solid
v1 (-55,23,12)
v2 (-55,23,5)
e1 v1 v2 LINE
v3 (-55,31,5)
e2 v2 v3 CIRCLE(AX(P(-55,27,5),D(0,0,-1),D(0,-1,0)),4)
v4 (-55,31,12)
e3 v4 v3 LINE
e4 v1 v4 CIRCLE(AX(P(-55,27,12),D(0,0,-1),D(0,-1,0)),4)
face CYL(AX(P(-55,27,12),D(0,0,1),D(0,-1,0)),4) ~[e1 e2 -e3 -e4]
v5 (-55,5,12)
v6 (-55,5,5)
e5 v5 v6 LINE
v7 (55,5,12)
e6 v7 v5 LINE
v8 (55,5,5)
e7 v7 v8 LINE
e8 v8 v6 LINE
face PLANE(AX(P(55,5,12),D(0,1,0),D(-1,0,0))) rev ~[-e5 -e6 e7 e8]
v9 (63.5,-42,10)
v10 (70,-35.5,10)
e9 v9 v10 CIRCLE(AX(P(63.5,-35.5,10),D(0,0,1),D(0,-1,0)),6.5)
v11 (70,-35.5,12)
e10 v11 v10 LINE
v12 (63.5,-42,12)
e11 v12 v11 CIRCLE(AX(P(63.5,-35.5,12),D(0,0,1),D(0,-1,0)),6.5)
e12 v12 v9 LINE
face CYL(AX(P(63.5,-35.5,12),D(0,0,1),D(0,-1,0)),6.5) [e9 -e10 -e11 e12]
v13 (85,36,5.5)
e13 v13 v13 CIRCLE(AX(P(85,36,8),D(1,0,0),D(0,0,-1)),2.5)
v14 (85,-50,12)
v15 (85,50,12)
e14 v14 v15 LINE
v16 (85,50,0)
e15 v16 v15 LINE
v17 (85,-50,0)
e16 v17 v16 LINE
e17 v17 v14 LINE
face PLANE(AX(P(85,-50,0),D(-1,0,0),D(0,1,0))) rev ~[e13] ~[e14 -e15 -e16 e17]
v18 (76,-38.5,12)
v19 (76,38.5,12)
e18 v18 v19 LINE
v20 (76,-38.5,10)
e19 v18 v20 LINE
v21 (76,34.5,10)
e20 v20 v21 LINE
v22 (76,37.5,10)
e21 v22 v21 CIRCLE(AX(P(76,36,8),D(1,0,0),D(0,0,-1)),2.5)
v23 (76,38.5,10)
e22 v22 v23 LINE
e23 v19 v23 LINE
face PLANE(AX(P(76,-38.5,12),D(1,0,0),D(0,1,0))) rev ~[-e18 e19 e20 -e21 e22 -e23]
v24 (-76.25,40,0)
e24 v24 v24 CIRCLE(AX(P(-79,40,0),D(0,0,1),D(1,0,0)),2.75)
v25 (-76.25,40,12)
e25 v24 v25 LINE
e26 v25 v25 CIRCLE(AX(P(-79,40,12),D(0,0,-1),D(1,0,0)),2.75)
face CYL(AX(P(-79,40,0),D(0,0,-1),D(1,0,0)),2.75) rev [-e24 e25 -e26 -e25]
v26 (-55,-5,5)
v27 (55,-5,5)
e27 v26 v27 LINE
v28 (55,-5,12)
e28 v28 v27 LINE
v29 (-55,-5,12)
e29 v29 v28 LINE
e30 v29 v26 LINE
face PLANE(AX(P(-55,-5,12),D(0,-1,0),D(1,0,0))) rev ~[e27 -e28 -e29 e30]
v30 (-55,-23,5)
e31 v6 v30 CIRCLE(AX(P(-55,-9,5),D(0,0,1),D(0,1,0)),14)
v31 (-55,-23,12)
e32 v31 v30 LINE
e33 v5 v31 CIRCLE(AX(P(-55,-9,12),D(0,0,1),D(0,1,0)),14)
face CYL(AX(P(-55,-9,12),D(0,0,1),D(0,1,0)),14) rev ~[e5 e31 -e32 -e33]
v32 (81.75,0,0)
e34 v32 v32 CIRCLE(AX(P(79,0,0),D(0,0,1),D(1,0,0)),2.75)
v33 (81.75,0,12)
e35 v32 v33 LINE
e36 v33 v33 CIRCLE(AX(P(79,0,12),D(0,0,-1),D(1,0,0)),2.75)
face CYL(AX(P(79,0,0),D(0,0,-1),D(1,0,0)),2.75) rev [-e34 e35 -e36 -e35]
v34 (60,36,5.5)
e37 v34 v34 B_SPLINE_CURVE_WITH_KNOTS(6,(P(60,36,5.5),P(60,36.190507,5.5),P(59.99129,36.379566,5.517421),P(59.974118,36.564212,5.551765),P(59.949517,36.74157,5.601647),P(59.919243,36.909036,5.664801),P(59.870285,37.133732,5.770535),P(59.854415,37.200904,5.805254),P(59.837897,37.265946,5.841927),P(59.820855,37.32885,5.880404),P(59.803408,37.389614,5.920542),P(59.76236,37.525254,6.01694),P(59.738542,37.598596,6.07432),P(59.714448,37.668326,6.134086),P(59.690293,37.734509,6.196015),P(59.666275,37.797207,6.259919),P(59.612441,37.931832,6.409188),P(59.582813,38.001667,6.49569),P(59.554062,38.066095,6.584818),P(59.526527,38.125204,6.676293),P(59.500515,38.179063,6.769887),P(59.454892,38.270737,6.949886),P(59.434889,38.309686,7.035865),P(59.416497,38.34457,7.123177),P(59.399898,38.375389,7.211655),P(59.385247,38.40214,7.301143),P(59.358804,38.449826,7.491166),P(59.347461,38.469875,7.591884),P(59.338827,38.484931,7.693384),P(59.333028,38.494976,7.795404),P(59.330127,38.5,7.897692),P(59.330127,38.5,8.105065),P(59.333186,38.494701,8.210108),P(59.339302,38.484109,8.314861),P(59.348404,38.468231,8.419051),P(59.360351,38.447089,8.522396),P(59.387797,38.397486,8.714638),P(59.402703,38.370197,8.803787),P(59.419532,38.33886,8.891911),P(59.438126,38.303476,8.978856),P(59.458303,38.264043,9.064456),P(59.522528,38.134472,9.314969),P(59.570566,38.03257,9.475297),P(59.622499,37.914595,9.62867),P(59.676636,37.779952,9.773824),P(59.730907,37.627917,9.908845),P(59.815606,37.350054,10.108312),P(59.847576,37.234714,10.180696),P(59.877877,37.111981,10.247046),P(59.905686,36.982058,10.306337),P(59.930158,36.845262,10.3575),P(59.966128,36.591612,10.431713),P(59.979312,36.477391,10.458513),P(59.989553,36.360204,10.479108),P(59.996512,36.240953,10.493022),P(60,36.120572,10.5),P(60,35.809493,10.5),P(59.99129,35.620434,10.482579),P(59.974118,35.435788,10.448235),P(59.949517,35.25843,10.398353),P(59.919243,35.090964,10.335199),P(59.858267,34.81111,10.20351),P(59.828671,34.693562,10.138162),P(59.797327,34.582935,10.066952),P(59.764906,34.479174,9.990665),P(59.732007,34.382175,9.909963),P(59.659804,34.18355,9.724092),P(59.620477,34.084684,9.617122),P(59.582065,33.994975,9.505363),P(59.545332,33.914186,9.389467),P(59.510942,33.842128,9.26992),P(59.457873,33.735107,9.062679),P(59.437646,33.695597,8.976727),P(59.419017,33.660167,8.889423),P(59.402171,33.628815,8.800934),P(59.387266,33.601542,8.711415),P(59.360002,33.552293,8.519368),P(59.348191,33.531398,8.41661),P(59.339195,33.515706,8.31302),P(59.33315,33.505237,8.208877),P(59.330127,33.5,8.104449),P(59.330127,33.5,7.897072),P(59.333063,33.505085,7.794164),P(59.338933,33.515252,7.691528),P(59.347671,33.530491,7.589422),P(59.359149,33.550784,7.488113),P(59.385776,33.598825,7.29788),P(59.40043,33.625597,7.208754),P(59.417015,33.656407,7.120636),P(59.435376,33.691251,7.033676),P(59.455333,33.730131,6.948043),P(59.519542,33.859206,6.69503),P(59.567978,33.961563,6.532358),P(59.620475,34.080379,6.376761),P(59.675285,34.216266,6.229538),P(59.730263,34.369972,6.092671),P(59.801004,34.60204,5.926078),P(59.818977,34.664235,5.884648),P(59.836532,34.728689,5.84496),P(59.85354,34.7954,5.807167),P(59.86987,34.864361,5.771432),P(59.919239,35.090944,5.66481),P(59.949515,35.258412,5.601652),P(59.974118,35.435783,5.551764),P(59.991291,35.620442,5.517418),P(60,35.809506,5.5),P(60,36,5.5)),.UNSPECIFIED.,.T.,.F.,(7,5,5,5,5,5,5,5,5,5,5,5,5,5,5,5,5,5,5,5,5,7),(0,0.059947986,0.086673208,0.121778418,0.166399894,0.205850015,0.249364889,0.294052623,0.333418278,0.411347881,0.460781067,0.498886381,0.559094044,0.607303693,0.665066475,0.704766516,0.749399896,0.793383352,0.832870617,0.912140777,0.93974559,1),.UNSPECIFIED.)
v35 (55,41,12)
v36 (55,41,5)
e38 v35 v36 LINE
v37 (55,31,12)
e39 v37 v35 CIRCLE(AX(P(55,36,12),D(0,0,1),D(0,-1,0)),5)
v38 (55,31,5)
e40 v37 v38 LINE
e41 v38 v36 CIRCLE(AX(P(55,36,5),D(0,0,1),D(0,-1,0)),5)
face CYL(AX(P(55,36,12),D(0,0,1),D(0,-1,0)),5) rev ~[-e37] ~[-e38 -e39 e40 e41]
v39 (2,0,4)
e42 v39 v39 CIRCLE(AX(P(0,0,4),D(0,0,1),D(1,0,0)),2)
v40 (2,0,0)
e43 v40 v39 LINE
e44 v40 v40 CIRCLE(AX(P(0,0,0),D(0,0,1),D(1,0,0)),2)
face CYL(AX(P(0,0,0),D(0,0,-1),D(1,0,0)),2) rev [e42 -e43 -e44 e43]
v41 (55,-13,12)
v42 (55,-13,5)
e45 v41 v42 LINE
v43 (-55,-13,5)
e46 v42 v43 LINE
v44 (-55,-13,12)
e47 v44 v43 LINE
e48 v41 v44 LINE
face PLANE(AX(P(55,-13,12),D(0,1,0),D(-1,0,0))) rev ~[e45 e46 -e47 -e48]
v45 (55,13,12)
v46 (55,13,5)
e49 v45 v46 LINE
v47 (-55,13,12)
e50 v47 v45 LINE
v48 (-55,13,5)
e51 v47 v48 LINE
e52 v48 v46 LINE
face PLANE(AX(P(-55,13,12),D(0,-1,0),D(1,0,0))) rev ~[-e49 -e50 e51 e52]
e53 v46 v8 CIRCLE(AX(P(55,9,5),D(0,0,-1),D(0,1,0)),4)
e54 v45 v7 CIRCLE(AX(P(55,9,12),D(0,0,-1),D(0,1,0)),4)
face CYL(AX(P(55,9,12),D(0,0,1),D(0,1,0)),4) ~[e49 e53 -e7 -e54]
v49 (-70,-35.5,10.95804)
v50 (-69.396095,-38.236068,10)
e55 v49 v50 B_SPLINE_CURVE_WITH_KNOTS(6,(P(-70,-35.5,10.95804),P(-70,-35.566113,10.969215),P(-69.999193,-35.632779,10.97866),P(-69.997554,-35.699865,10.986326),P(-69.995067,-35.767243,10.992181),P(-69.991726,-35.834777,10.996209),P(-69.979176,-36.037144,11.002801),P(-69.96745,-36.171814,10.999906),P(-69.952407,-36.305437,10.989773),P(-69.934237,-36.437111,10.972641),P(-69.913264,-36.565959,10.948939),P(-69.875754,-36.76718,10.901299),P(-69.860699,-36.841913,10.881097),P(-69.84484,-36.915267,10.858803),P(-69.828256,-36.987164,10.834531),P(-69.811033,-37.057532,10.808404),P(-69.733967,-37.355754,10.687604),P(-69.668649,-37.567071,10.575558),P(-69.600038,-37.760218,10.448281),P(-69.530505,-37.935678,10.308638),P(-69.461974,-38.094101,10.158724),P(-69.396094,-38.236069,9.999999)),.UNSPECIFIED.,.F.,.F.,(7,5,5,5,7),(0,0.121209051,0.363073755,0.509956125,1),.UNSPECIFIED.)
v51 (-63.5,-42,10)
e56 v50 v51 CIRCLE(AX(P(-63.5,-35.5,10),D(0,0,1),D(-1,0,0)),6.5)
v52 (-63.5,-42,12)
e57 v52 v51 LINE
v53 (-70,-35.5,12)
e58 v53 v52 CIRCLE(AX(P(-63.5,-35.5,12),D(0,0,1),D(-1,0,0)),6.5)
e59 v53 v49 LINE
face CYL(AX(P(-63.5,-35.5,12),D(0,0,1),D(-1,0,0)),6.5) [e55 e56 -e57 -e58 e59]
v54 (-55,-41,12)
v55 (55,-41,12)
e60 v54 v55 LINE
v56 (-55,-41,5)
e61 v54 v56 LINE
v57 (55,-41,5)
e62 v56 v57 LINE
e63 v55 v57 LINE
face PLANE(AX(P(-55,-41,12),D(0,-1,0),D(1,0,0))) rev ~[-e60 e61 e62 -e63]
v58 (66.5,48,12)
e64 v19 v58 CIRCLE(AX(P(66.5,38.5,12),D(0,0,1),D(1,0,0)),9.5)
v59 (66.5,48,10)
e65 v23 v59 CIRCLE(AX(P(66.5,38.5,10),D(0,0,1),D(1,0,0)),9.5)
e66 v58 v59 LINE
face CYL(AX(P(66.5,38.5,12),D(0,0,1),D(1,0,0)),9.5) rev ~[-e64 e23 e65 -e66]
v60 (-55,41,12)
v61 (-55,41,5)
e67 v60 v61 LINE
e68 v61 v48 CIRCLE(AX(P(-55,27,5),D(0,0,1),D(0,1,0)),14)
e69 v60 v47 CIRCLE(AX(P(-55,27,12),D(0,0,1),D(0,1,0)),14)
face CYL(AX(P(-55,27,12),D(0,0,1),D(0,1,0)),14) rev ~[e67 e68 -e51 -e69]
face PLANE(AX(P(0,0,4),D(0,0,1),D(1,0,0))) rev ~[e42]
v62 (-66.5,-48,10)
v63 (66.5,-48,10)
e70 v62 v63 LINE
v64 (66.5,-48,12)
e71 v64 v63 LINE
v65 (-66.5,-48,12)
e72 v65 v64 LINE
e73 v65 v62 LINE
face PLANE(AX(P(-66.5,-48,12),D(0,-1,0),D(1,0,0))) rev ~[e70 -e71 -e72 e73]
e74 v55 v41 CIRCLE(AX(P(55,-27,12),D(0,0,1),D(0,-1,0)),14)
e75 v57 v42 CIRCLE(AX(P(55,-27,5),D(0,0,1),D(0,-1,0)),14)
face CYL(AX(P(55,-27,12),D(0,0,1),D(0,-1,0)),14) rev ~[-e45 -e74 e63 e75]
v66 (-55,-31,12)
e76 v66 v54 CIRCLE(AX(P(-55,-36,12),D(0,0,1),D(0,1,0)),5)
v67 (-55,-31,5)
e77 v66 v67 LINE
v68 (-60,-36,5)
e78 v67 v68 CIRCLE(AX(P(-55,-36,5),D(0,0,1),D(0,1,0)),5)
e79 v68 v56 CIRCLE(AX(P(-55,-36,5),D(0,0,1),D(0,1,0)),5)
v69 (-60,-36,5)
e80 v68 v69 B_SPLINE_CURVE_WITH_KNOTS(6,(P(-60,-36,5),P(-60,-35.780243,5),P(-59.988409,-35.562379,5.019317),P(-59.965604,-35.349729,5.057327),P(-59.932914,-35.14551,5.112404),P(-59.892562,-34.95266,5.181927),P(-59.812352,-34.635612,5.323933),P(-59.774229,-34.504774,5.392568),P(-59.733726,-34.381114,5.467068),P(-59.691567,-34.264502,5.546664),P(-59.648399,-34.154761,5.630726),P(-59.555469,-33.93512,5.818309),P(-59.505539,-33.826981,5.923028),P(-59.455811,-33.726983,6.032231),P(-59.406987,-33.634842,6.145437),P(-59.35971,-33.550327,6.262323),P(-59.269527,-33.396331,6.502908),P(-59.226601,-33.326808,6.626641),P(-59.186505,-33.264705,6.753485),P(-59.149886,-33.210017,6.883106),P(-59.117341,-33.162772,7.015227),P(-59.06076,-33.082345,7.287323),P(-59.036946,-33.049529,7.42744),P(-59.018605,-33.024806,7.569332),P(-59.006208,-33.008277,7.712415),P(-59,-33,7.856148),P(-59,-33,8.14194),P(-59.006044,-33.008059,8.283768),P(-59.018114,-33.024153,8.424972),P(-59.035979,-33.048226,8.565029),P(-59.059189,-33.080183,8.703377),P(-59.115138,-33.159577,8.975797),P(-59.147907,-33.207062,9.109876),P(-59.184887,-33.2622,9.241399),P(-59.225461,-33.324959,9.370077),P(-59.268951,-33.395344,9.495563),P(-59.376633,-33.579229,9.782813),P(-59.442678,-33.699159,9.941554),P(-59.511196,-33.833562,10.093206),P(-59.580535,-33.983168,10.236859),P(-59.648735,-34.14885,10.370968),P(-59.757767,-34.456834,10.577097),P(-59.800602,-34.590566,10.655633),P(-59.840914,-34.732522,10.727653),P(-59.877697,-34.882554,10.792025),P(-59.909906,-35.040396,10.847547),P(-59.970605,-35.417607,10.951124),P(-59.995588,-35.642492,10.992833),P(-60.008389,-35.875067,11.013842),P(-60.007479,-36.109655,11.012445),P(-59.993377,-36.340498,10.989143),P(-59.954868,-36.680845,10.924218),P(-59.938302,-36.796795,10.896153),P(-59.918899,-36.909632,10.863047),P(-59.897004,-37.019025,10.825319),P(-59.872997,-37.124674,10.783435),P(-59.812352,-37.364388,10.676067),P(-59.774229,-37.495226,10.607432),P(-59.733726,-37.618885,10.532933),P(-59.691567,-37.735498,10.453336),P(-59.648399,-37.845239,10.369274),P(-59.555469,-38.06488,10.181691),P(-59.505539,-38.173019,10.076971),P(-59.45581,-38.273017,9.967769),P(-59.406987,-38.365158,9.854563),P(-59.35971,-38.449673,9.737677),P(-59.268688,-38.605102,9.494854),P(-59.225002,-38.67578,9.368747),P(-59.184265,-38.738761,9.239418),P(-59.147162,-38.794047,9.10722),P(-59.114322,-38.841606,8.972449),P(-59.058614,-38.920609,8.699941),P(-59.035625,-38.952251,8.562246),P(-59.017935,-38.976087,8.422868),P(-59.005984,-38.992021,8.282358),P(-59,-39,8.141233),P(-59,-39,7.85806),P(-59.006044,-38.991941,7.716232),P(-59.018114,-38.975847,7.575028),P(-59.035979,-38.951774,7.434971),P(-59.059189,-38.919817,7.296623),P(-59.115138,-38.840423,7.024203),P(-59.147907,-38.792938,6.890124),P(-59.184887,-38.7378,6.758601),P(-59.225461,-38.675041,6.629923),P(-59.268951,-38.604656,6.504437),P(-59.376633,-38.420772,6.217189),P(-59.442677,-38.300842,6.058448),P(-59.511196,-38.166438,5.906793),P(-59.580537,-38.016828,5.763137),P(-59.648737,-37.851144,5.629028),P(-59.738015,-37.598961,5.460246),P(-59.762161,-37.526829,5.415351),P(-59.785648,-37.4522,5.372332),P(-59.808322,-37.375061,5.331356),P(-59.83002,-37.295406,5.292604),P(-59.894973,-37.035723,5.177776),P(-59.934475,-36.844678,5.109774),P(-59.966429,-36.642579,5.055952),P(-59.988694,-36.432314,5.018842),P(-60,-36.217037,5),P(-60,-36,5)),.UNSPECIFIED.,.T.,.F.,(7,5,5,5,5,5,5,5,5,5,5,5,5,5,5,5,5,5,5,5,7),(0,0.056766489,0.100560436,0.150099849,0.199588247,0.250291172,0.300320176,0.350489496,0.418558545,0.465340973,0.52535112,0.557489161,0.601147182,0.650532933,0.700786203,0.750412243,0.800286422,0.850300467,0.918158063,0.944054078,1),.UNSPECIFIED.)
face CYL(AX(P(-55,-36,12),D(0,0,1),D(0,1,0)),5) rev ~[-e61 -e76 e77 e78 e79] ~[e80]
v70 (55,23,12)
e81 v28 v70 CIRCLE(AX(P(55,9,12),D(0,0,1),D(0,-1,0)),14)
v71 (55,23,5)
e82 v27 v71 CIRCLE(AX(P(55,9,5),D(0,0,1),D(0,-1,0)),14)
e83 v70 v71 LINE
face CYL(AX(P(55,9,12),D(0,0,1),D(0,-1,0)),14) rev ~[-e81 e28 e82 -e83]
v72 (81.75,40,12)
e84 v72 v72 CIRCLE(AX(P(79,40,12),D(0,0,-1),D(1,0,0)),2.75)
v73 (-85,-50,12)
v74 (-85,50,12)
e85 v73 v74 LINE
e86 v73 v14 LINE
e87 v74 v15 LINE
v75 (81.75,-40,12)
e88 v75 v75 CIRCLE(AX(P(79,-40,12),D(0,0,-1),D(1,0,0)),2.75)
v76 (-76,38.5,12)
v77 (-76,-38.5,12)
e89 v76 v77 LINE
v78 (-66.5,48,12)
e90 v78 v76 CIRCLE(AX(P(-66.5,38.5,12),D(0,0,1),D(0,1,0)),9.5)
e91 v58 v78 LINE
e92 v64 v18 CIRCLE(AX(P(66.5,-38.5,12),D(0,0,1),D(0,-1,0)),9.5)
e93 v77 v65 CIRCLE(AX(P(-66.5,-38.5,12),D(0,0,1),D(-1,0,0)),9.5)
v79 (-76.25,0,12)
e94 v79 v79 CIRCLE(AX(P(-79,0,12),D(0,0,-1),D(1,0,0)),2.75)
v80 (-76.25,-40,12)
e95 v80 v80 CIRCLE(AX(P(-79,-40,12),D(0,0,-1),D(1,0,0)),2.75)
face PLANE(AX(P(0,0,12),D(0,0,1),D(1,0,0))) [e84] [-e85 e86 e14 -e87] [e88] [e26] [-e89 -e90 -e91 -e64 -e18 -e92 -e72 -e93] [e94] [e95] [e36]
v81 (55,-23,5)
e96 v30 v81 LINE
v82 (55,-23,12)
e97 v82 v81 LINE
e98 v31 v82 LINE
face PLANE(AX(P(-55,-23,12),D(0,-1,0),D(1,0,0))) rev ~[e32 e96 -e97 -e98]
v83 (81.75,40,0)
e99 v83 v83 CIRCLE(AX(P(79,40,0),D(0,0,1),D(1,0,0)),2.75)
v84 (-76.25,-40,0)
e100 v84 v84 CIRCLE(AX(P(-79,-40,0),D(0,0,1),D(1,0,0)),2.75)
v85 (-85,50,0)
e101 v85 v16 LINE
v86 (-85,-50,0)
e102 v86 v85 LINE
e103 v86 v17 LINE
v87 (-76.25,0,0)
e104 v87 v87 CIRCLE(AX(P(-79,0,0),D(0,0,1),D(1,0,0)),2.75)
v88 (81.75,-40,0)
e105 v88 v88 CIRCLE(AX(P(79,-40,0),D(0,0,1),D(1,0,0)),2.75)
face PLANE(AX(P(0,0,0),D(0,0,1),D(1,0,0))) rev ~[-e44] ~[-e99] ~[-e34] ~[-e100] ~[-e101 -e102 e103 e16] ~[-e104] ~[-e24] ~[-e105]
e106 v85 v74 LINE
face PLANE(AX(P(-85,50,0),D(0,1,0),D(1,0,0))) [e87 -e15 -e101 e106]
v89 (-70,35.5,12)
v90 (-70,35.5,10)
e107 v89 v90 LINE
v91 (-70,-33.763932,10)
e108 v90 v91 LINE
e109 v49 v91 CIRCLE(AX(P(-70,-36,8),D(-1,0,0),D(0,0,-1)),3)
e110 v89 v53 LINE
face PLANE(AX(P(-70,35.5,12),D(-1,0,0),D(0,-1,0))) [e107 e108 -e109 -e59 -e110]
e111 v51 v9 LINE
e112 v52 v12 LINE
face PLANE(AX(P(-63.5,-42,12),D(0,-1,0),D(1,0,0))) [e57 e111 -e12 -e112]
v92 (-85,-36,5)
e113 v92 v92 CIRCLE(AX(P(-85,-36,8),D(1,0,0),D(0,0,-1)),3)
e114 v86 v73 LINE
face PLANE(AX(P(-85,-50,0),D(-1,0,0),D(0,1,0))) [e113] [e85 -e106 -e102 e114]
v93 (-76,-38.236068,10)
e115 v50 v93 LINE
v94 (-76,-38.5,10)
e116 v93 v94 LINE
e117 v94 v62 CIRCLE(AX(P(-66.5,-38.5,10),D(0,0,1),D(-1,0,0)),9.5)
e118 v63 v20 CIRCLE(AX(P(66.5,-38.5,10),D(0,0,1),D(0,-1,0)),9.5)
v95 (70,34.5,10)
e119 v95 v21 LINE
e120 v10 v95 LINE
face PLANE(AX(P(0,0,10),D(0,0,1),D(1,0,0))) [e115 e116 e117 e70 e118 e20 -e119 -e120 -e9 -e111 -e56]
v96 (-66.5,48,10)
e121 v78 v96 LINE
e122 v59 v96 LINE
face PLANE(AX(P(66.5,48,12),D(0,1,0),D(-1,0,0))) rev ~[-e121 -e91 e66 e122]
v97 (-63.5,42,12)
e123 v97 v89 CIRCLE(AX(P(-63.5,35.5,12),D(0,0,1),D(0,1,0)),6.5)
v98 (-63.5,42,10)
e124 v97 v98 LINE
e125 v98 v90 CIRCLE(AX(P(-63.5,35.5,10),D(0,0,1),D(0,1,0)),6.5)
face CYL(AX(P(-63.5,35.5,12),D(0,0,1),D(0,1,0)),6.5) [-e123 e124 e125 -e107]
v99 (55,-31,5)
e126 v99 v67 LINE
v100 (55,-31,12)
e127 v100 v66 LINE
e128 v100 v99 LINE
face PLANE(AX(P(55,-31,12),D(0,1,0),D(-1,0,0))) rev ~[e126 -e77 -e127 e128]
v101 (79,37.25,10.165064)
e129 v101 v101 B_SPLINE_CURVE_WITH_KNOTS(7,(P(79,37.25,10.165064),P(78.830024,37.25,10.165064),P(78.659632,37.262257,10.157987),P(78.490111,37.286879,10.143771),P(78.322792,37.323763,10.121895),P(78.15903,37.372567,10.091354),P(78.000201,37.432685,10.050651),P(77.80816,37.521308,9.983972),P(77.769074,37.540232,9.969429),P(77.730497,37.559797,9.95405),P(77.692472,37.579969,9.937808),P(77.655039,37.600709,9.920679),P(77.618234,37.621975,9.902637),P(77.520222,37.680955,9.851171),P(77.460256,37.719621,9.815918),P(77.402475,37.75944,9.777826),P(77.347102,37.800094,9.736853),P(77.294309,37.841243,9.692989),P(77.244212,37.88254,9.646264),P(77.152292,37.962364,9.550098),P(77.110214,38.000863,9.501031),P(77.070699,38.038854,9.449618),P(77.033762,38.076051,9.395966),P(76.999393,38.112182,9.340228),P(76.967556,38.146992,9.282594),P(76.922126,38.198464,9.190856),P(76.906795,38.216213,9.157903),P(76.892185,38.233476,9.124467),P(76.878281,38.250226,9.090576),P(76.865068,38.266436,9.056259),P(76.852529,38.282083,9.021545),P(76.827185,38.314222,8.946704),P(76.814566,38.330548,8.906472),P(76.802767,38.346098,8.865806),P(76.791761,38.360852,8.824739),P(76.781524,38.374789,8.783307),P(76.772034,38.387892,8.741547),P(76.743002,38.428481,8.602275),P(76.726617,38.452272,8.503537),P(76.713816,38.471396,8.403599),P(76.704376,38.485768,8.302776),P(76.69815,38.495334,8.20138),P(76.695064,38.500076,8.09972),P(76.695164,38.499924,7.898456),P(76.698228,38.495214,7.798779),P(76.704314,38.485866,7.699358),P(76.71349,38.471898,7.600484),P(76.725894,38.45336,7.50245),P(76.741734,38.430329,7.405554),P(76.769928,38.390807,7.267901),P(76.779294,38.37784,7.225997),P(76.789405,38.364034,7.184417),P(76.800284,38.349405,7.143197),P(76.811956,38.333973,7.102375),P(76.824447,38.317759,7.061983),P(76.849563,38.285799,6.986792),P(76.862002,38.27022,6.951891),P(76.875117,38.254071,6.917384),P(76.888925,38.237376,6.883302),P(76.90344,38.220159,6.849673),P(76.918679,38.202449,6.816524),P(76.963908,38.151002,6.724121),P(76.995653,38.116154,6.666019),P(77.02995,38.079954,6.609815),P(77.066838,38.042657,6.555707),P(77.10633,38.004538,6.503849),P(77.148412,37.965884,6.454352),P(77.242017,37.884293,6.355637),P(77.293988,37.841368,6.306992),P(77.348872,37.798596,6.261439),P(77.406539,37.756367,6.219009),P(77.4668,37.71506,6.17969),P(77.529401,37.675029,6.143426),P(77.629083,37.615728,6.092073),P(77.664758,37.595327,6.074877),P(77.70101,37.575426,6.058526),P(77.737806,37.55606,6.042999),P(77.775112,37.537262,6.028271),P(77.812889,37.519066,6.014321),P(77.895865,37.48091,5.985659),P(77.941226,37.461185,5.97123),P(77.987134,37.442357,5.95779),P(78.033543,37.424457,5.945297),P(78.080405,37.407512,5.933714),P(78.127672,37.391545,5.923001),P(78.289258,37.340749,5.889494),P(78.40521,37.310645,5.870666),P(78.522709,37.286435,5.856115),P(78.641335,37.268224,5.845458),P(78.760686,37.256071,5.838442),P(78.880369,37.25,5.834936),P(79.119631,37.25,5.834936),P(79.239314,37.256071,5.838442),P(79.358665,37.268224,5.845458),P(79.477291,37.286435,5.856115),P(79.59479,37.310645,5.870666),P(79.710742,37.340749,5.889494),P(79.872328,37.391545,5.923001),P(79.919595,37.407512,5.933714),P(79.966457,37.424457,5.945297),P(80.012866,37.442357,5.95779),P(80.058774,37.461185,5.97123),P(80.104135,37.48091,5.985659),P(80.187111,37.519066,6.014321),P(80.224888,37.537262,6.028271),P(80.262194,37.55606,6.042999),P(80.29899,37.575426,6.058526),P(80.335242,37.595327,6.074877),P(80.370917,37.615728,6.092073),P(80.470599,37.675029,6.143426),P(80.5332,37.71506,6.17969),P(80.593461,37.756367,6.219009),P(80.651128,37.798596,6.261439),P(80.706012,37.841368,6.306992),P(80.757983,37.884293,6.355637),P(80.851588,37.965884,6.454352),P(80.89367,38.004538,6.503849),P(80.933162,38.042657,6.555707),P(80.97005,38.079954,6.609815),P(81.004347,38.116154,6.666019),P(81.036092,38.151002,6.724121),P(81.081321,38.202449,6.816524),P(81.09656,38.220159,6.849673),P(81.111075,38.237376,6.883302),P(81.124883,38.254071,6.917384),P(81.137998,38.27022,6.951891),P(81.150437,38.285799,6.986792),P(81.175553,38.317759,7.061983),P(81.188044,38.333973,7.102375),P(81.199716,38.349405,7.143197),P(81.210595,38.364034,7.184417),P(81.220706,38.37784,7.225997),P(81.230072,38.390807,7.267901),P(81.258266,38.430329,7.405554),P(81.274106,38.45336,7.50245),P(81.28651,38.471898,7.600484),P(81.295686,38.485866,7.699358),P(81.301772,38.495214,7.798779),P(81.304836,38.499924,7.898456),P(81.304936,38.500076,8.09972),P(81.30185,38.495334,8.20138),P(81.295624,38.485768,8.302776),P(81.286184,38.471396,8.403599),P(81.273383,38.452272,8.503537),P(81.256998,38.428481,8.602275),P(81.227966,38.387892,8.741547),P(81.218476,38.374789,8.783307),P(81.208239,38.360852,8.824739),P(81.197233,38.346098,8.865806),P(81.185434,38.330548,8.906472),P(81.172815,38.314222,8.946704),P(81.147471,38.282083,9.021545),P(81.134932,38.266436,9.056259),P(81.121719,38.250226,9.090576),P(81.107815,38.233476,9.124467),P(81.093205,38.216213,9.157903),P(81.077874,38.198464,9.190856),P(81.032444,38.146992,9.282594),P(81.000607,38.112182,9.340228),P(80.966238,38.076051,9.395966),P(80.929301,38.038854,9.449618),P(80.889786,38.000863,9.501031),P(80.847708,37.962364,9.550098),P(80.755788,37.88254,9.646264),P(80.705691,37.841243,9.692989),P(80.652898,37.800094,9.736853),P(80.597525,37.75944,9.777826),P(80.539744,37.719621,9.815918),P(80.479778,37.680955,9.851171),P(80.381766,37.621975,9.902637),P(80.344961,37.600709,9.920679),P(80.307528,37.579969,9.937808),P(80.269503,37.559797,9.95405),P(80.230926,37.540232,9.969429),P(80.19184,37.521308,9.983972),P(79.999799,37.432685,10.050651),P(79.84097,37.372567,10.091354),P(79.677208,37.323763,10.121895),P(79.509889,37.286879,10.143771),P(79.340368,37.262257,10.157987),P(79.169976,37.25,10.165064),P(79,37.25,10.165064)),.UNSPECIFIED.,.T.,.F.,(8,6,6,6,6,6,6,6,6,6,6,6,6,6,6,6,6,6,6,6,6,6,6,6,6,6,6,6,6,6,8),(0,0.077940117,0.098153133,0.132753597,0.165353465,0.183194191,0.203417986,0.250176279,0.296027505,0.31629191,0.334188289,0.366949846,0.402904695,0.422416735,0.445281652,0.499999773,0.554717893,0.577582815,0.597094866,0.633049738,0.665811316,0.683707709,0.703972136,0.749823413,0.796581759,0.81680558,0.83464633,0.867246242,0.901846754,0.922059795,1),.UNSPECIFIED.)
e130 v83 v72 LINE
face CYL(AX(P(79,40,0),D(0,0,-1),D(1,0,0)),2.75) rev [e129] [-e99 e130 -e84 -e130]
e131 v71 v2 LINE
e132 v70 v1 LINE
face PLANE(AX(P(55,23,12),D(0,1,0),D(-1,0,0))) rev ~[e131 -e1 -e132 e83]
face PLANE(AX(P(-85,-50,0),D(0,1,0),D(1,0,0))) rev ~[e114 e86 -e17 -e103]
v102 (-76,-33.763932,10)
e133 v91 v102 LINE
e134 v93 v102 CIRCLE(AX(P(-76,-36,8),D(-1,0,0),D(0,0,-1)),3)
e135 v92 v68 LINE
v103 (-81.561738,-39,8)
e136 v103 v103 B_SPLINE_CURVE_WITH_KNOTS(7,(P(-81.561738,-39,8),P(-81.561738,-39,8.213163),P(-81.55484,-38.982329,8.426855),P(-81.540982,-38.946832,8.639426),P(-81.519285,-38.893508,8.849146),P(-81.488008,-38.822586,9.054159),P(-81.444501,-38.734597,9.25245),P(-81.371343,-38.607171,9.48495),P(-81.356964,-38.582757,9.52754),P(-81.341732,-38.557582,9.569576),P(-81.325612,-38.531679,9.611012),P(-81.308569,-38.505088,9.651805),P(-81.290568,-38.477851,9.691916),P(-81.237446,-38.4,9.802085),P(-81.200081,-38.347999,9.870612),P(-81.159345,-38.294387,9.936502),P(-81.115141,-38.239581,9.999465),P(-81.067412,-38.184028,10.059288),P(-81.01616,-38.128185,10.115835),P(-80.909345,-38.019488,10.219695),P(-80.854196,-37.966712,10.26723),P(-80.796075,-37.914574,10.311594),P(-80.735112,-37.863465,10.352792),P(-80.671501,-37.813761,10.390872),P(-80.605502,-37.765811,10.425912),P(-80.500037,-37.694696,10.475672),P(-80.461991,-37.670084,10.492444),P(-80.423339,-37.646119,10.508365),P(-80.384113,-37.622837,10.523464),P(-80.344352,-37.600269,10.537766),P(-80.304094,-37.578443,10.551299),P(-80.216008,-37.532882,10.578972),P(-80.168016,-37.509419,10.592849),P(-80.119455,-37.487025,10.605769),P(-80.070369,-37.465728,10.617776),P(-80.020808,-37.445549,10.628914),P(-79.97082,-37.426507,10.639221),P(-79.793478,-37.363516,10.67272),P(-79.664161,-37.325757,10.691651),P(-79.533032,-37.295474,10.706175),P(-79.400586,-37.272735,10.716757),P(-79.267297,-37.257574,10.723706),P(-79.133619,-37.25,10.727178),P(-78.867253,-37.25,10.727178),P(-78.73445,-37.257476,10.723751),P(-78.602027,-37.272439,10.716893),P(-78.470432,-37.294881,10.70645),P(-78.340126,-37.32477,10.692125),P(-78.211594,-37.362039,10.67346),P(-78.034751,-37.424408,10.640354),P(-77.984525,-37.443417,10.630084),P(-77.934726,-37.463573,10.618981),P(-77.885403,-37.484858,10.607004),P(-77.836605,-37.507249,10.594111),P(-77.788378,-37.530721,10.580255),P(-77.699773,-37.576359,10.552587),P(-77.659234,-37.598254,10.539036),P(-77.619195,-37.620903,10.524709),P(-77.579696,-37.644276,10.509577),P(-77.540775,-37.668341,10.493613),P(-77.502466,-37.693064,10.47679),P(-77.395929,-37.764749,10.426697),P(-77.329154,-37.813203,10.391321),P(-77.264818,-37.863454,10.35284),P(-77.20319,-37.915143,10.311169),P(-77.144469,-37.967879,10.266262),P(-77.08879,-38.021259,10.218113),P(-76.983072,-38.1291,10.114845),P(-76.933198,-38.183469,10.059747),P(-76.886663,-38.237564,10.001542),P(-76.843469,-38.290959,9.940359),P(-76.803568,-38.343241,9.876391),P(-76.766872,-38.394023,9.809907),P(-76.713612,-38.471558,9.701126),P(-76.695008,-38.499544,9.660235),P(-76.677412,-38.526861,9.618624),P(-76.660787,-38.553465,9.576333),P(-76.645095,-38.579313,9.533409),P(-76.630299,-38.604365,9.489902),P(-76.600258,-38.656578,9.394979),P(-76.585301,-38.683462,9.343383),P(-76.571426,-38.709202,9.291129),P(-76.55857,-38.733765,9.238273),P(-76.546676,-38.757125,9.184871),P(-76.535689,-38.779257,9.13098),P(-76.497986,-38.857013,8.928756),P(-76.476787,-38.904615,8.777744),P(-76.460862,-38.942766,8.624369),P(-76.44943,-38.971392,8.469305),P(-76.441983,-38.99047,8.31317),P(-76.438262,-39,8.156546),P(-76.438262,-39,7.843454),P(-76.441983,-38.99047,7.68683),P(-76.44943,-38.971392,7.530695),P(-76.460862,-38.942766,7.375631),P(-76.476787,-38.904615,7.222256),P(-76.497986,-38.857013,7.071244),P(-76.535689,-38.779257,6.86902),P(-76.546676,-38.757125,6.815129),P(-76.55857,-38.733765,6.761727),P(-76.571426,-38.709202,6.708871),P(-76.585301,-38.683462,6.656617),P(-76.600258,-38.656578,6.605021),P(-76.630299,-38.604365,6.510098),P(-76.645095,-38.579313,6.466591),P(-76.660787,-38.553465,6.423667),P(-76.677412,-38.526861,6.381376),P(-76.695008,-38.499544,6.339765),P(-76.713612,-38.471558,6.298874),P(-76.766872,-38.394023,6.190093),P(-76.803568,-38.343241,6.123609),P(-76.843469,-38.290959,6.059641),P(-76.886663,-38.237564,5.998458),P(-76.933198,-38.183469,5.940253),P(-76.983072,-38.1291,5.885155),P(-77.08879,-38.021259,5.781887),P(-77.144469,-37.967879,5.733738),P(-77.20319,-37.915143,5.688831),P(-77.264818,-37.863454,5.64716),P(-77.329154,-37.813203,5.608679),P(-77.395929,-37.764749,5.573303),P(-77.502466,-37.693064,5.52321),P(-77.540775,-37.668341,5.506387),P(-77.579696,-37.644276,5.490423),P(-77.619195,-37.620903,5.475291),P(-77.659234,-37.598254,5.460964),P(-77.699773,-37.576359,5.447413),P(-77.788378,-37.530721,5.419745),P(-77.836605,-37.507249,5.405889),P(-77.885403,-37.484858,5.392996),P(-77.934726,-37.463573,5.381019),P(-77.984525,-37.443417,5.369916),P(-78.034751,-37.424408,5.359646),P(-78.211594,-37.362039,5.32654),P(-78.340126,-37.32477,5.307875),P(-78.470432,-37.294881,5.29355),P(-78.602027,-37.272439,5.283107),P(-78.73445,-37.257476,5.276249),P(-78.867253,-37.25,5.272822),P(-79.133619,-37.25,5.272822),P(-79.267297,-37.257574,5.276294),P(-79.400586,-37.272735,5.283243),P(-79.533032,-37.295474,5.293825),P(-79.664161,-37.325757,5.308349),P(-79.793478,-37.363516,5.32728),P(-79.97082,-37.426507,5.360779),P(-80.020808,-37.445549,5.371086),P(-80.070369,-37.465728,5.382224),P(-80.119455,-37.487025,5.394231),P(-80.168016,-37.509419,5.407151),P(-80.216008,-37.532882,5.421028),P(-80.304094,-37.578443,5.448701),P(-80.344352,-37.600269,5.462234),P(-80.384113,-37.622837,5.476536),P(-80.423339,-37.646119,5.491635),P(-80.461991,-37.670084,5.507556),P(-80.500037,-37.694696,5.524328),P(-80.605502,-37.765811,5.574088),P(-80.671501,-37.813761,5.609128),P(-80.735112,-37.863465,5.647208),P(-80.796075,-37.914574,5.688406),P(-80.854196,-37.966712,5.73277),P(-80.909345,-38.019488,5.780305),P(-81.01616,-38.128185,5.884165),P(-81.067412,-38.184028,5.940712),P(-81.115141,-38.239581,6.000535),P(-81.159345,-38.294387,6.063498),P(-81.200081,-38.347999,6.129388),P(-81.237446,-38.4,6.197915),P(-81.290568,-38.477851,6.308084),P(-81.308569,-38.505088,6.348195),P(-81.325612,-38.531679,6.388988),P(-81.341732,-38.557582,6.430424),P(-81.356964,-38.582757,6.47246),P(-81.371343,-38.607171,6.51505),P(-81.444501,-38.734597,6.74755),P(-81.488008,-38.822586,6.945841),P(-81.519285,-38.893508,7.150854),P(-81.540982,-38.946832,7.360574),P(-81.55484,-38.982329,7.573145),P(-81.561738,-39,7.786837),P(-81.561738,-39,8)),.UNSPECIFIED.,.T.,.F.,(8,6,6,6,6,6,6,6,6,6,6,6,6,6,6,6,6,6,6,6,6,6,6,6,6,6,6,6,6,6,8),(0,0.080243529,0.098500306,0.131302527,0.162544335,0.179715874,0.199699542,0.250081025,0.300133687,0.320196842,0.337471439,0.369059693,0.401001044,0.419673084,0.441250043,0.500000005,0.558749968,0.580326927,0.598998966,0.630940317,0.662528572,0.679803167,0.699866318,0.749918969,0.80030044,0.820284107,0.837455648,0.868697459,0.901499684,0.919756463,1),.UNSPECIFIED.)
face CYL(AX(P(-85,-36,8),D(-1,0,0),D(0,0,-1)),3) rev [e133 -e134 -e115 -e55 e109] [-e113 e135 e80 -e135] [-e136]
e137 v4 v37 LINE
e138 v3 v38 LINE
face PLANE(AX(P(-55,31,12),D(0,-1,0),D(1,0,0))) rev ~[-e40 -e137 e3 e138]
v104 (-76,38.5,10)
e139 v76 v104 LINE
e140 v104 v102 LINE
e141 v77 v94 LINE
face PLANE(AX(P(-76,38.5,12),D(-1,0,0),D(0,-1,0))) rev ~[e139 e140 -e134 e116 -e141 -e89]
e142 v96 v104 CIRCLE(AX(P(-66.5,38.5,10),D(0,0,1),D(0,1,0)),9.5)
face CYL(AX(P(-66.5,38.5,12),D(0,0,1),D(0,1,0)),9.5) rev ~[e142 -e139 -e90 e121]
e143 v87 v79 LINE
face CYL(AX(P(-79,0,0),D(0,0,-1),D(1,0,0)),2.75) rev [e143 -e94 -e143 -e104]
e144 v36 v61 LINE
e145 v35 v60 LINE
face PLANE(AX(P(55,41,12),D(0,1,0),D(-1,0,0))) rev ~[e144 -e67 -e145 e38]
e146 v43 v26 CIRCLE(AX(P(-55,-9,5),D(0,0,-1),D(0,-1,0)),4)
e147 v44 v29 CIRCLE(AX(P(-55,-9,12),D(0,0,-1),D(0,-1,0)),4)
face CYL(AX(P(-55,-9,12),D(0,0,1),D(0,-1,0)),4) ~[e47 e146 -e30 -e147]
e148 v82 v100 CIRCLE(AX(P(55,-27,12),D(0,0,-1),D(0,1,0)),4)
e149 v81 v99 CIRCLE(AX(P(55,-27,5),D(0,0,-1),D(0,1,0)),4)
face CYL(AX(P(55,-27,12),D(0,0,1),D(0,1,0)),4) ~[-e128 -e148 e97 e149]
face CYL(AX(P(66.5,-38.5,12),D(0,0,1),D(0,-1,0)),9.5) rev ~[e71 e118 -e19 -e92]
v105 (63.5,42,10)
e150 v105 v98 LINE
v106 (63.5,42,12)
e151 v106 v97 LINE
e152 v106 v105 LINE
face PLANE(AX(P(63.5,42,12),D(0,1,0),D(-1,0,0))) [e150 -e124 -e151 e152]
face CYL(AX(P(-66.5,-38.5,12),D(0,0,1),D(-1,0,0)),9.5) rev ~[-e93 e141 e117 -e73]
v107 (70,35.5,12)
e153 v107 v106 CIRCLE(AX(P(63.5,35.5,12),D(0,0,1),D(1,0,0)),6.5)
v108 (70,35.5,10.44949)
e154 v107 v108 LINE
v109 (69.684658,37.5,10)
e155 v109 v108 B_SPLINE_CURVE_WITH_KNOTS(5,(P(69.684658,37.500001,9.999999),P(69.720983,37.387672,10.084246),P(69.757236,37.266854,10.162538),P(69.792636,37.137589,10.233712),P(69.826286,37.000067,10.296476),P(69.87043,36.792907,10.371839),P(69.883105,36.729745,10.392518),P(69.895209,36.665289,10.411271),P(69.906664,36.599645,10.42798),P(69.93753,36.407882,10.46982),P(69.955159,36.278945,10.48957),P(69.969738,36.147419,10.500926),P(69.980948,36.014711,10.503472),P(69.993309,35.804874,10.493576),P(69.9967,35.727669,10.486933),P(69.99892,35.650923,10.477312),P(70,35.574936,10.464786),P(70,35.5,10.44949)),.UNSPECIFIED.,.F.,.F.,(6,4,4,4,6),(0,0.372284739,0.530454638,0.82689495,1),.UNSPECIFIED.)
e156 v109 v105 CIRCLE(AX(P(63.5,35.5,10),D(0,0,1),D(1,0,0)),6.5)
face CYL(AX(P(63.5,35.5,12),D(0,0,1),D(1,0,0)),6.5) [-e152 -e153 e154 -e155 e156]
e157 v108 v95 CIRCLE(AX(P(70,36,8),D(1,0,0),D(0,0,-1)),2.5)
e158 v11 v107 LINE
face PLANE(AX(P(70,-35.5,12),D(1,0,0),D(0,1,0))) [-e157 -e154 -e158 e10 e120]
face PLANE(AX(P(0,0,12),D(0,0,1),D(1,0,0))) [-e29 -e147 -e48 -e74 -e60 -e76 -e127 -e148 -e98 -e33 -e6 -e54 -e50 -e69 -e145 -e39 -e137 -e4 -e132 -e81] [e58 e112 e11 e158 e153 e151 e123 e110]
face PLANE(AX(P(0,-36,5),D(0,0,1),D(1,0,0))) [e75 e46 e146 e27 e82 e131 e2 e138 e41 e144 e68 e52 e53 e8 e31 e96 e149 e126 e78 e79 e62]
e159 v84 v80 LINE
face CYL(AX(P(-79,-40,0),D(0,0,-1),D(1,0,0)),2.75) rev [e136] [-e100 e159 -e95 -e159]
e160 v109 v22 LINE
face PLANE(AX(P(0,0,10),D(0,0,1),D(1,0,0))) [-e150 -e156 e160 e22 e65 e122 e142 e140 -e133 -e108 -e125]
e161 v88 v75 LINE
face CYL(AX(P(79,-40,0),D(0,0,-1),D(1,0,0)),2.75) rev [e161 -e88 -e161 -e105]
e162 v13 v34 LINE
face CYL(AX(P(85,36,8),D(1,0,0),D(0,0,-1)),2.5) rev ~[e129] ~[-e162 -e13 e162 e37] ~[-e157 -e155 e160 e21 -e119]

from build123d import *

# Parameters (mm, degrees)
SKETCH_1_W          = 170
SKETCH_1_H          = 100
EXTRUDE_1_DEPTH     = 12
CUT_EXTRUDE_1_DEPTH = 7
CUT_EXTRUDE_2_DEPTH = 7
CUT_EXTRUDE_3_DEPTH = 2
SKETCH_5_R          = 2.75
CUT_EXTRUDE_4_DEPTH = 100.342840708
SKETCH_6_R          = 3
CUT_EXTRUDE_5_DEPTH = 30
SKETCH_7_R          = 2.5
CUT_EXTRUDE_6_DEPTH = 30
SKETCH_8_R          = 2
CUT_EXTRUDE_7_DEPTH = 4


with BuildPart() as part:
    # 草图1 → 凸台-拉伸1 (new body)
    with BuildSketch(Plane.XY):
        Rectangle(SKETCH_1_W, SKETCH_1_H)
    extrude(amount=EXTRUDE_1_DEPTH)

    # 草图2 → 切除-拉伸1 (cut)
    with BuildSketch(Plane.XY.offset(12)):
        with BuildLine():
            Line((-55, -41), (55, -41))
            ThreePointArc((55, -41), (60, -36), (55, -31))
            Line((55, -31), (-55, -31))
            ThreePointArc((-55, -31), (-60, -36), (-55, -41))
        make_face()
        with BuildLine():
            Line((-55, -23), (55, -23))
            ThreePointArc((55, -23), (60, -18), (55, -13))
            Line((55, -13), (-55, -13))
            ThreePointArc((-55, -13), (-60, -18), (-55, -23))
        make_face()
        with BuildLine():
            Line((-55, -5), (55, -5))
            ThreePointArc((55, -5), (60, 0), (55, 5))
            Line((55, 5), (-55, 5))
            ThreePointArc((-55, 5), (-60, 0), (-55, -5))
        make_face()
        with BuildLine():
            Line((-55, 13), (55, 13))
            ThreePointArc((55, 13), (60, 18), (55, 23))
            Line((55, 23), (-55, 23))
            ThreePointArc((-55, 23), (-60, 18), (-55, 13))
        make_face()
        with BuildLine():
            Line((-55, 31), (55, 31))
            ThreePointArc((55, 31), (60, 36), (55, 41))
            Line((55, 41), (-55, 41))
            ThreePointArc((-55, 41), (-60, 36), (-55, 31))
        make_face()
    extrude(amount=-CUT_EXTRUDE_1_DEPTH, mode=Mode.SUBTRACT)

    # 草图3 → 切除-拉伸2 (cut)
    with BuildSketch(Plane.XY.offset(12)):
        with BuildLine():
            Line((55, -13), (55, -23))
            ThreePointArc((55, -23), (59, -27), (55, -31))
            Line((55, -31), (55, -41))
            ThreePointArc((55, -41), (69, -27), (55, -13))
        make_face()
        with BuildLine():
            Line((-55, -23), (-55, -13))
            ThreePointArc((-55, -13), (-59, -9), (-55, -5))
            Line((-55, -5), (-55, 5))
            ThreePointArc((-55, 5), (-69, -9), (-55, -23))
        make_face()
        with BuildLine():
            Line((55, 23), (55, 13))
            ThreePointArc((55, 13), (59, 9), (55, 5))
            Line((55, 5), (55, -5))
            ThreePointArc((55, -5), (69, 9), (55, 23))
        make_face()
        with BuildLine():
            Line((-55, 13), (-55, 23))
            ThreePointArc((-55, 23), (-59, 27), (-55, 31))
            Line((-55, 31), (-55, 41))
            ThreePointArc((-55, 41), (-69, 27), (-55, 13))
        make_face()
    extrude(amount=-CUT_EXTRUDE_2_DEPTH, mode=Mode.SUBTRACT)

    # 草图4 → 切除-拉伸3 (cut)
    with BuildSketch(Plane.XY.offset(12)):
        with BuildLine():
            Line((-66.5, -48), (66.5, -48))
            ThreePointArc((66.5, -48), (73.217514421, -45.217514421), (76, -38.5))
            Line((76, -38.5), (76, 38.5))
            ThreePointArc((76, 38.5), (73.217514421, 45.217514421), (66.5, 48))
            Line((66.5, 48), (-66.5, 48))
            ThreePointArc((-66.5, 48), (-73.217514421, 45.217514421), (-76, 38.5))
            Line((-76, 38.5), (-76, -38.5))
            ThreePointArc((-76, -38.5), (-73.217514421, -45.217514421), (-66.5, -48))
        make_face()
        with BuildLine():
            Line((-63.5, -42), (63.5, -42))
            ThreePointArc((63.5, -42), (68.096194078, -40.096194078), (70, -35.5))
            Line((70, -35.5), (70, 35.5))
            ThreePointArc((70, 35.5), (68.096194078, 40.096194078), (63.5, 42))
            Line((63.5, 42), (-63.5, 42))
            ThreePointArc((-63.5, 42), (-68.096194078, 40.096194078), (-70, 35.5))
            Line((-70, 35.5), (-70, -35.5))
            ThreePointArc((-70, -35.5), (-68.096194078, -40.096194078), (-63.5, -42))
        make_face(mode=Mode.SUBTRACT)
    extrude(amount=-CUT_EXTRUDE_3_DEPTH, mode=Mode.SUBTRACT)

    # 草图5 → 切除-拉伸4 (cut, through all)
    with BuildSketch(Plane.XY):
        with Locations((-79, -40)):
            Circle(SKETCH_5_R)
        with Locations((-79, 0)):
            Circle(SKETCH_5_R)
        with Locations((-79, 40)):
            Circle(SKETCH_5_R)
        with Locations((79, -40)):
            Circle(SKETCH_5_R)
        with Locations((79, 0)):
            Circle(SKETCH_5_R)
        with Locations((79, 40)):
            Circle(SKETCH_5_R)
    extrude(amount=CUT_EXTRUDE_4_DEPTH, mode=Mode.SUBTRACT)

    # 草图6 → 切除-拉伸5 (cut)
    with BuildSketch(Plane(origin=(-85, 0, 0), x_dir=(0, 0, -1), z_dir=(1, 0, 0))):
        with Locations((-8, -36)):
            Circle(SKETCH_6_R)
    extrude(amount=CUT_EXTRUDE_5_DEPTH, mode=Mode.SUBTRACT)

    # 草图7 → 切除-拉伸6 (cut)
    with BuildSketch(Plane(origin=(85, 0, 0), x_dir=(0, 0, -1), z_dir=(1, 0, 0))):
        with Locations((-8, 36)):
            Circle(SKETCH_7_R)
    extrude(amount=-CUT_EXTRUDE_6_DEPTH, mode=Mode.SUBTRACT)

    # 草图8 → 切除-拉伸7 (cut)
    with BuildSketch(Plane.XY):
        Circle(SKETCH_8_R)
    extrude(amount=CUT_EXTRUDE_7_DEPTH, mode=Mode.SUBTRACT)


solid = part.part
